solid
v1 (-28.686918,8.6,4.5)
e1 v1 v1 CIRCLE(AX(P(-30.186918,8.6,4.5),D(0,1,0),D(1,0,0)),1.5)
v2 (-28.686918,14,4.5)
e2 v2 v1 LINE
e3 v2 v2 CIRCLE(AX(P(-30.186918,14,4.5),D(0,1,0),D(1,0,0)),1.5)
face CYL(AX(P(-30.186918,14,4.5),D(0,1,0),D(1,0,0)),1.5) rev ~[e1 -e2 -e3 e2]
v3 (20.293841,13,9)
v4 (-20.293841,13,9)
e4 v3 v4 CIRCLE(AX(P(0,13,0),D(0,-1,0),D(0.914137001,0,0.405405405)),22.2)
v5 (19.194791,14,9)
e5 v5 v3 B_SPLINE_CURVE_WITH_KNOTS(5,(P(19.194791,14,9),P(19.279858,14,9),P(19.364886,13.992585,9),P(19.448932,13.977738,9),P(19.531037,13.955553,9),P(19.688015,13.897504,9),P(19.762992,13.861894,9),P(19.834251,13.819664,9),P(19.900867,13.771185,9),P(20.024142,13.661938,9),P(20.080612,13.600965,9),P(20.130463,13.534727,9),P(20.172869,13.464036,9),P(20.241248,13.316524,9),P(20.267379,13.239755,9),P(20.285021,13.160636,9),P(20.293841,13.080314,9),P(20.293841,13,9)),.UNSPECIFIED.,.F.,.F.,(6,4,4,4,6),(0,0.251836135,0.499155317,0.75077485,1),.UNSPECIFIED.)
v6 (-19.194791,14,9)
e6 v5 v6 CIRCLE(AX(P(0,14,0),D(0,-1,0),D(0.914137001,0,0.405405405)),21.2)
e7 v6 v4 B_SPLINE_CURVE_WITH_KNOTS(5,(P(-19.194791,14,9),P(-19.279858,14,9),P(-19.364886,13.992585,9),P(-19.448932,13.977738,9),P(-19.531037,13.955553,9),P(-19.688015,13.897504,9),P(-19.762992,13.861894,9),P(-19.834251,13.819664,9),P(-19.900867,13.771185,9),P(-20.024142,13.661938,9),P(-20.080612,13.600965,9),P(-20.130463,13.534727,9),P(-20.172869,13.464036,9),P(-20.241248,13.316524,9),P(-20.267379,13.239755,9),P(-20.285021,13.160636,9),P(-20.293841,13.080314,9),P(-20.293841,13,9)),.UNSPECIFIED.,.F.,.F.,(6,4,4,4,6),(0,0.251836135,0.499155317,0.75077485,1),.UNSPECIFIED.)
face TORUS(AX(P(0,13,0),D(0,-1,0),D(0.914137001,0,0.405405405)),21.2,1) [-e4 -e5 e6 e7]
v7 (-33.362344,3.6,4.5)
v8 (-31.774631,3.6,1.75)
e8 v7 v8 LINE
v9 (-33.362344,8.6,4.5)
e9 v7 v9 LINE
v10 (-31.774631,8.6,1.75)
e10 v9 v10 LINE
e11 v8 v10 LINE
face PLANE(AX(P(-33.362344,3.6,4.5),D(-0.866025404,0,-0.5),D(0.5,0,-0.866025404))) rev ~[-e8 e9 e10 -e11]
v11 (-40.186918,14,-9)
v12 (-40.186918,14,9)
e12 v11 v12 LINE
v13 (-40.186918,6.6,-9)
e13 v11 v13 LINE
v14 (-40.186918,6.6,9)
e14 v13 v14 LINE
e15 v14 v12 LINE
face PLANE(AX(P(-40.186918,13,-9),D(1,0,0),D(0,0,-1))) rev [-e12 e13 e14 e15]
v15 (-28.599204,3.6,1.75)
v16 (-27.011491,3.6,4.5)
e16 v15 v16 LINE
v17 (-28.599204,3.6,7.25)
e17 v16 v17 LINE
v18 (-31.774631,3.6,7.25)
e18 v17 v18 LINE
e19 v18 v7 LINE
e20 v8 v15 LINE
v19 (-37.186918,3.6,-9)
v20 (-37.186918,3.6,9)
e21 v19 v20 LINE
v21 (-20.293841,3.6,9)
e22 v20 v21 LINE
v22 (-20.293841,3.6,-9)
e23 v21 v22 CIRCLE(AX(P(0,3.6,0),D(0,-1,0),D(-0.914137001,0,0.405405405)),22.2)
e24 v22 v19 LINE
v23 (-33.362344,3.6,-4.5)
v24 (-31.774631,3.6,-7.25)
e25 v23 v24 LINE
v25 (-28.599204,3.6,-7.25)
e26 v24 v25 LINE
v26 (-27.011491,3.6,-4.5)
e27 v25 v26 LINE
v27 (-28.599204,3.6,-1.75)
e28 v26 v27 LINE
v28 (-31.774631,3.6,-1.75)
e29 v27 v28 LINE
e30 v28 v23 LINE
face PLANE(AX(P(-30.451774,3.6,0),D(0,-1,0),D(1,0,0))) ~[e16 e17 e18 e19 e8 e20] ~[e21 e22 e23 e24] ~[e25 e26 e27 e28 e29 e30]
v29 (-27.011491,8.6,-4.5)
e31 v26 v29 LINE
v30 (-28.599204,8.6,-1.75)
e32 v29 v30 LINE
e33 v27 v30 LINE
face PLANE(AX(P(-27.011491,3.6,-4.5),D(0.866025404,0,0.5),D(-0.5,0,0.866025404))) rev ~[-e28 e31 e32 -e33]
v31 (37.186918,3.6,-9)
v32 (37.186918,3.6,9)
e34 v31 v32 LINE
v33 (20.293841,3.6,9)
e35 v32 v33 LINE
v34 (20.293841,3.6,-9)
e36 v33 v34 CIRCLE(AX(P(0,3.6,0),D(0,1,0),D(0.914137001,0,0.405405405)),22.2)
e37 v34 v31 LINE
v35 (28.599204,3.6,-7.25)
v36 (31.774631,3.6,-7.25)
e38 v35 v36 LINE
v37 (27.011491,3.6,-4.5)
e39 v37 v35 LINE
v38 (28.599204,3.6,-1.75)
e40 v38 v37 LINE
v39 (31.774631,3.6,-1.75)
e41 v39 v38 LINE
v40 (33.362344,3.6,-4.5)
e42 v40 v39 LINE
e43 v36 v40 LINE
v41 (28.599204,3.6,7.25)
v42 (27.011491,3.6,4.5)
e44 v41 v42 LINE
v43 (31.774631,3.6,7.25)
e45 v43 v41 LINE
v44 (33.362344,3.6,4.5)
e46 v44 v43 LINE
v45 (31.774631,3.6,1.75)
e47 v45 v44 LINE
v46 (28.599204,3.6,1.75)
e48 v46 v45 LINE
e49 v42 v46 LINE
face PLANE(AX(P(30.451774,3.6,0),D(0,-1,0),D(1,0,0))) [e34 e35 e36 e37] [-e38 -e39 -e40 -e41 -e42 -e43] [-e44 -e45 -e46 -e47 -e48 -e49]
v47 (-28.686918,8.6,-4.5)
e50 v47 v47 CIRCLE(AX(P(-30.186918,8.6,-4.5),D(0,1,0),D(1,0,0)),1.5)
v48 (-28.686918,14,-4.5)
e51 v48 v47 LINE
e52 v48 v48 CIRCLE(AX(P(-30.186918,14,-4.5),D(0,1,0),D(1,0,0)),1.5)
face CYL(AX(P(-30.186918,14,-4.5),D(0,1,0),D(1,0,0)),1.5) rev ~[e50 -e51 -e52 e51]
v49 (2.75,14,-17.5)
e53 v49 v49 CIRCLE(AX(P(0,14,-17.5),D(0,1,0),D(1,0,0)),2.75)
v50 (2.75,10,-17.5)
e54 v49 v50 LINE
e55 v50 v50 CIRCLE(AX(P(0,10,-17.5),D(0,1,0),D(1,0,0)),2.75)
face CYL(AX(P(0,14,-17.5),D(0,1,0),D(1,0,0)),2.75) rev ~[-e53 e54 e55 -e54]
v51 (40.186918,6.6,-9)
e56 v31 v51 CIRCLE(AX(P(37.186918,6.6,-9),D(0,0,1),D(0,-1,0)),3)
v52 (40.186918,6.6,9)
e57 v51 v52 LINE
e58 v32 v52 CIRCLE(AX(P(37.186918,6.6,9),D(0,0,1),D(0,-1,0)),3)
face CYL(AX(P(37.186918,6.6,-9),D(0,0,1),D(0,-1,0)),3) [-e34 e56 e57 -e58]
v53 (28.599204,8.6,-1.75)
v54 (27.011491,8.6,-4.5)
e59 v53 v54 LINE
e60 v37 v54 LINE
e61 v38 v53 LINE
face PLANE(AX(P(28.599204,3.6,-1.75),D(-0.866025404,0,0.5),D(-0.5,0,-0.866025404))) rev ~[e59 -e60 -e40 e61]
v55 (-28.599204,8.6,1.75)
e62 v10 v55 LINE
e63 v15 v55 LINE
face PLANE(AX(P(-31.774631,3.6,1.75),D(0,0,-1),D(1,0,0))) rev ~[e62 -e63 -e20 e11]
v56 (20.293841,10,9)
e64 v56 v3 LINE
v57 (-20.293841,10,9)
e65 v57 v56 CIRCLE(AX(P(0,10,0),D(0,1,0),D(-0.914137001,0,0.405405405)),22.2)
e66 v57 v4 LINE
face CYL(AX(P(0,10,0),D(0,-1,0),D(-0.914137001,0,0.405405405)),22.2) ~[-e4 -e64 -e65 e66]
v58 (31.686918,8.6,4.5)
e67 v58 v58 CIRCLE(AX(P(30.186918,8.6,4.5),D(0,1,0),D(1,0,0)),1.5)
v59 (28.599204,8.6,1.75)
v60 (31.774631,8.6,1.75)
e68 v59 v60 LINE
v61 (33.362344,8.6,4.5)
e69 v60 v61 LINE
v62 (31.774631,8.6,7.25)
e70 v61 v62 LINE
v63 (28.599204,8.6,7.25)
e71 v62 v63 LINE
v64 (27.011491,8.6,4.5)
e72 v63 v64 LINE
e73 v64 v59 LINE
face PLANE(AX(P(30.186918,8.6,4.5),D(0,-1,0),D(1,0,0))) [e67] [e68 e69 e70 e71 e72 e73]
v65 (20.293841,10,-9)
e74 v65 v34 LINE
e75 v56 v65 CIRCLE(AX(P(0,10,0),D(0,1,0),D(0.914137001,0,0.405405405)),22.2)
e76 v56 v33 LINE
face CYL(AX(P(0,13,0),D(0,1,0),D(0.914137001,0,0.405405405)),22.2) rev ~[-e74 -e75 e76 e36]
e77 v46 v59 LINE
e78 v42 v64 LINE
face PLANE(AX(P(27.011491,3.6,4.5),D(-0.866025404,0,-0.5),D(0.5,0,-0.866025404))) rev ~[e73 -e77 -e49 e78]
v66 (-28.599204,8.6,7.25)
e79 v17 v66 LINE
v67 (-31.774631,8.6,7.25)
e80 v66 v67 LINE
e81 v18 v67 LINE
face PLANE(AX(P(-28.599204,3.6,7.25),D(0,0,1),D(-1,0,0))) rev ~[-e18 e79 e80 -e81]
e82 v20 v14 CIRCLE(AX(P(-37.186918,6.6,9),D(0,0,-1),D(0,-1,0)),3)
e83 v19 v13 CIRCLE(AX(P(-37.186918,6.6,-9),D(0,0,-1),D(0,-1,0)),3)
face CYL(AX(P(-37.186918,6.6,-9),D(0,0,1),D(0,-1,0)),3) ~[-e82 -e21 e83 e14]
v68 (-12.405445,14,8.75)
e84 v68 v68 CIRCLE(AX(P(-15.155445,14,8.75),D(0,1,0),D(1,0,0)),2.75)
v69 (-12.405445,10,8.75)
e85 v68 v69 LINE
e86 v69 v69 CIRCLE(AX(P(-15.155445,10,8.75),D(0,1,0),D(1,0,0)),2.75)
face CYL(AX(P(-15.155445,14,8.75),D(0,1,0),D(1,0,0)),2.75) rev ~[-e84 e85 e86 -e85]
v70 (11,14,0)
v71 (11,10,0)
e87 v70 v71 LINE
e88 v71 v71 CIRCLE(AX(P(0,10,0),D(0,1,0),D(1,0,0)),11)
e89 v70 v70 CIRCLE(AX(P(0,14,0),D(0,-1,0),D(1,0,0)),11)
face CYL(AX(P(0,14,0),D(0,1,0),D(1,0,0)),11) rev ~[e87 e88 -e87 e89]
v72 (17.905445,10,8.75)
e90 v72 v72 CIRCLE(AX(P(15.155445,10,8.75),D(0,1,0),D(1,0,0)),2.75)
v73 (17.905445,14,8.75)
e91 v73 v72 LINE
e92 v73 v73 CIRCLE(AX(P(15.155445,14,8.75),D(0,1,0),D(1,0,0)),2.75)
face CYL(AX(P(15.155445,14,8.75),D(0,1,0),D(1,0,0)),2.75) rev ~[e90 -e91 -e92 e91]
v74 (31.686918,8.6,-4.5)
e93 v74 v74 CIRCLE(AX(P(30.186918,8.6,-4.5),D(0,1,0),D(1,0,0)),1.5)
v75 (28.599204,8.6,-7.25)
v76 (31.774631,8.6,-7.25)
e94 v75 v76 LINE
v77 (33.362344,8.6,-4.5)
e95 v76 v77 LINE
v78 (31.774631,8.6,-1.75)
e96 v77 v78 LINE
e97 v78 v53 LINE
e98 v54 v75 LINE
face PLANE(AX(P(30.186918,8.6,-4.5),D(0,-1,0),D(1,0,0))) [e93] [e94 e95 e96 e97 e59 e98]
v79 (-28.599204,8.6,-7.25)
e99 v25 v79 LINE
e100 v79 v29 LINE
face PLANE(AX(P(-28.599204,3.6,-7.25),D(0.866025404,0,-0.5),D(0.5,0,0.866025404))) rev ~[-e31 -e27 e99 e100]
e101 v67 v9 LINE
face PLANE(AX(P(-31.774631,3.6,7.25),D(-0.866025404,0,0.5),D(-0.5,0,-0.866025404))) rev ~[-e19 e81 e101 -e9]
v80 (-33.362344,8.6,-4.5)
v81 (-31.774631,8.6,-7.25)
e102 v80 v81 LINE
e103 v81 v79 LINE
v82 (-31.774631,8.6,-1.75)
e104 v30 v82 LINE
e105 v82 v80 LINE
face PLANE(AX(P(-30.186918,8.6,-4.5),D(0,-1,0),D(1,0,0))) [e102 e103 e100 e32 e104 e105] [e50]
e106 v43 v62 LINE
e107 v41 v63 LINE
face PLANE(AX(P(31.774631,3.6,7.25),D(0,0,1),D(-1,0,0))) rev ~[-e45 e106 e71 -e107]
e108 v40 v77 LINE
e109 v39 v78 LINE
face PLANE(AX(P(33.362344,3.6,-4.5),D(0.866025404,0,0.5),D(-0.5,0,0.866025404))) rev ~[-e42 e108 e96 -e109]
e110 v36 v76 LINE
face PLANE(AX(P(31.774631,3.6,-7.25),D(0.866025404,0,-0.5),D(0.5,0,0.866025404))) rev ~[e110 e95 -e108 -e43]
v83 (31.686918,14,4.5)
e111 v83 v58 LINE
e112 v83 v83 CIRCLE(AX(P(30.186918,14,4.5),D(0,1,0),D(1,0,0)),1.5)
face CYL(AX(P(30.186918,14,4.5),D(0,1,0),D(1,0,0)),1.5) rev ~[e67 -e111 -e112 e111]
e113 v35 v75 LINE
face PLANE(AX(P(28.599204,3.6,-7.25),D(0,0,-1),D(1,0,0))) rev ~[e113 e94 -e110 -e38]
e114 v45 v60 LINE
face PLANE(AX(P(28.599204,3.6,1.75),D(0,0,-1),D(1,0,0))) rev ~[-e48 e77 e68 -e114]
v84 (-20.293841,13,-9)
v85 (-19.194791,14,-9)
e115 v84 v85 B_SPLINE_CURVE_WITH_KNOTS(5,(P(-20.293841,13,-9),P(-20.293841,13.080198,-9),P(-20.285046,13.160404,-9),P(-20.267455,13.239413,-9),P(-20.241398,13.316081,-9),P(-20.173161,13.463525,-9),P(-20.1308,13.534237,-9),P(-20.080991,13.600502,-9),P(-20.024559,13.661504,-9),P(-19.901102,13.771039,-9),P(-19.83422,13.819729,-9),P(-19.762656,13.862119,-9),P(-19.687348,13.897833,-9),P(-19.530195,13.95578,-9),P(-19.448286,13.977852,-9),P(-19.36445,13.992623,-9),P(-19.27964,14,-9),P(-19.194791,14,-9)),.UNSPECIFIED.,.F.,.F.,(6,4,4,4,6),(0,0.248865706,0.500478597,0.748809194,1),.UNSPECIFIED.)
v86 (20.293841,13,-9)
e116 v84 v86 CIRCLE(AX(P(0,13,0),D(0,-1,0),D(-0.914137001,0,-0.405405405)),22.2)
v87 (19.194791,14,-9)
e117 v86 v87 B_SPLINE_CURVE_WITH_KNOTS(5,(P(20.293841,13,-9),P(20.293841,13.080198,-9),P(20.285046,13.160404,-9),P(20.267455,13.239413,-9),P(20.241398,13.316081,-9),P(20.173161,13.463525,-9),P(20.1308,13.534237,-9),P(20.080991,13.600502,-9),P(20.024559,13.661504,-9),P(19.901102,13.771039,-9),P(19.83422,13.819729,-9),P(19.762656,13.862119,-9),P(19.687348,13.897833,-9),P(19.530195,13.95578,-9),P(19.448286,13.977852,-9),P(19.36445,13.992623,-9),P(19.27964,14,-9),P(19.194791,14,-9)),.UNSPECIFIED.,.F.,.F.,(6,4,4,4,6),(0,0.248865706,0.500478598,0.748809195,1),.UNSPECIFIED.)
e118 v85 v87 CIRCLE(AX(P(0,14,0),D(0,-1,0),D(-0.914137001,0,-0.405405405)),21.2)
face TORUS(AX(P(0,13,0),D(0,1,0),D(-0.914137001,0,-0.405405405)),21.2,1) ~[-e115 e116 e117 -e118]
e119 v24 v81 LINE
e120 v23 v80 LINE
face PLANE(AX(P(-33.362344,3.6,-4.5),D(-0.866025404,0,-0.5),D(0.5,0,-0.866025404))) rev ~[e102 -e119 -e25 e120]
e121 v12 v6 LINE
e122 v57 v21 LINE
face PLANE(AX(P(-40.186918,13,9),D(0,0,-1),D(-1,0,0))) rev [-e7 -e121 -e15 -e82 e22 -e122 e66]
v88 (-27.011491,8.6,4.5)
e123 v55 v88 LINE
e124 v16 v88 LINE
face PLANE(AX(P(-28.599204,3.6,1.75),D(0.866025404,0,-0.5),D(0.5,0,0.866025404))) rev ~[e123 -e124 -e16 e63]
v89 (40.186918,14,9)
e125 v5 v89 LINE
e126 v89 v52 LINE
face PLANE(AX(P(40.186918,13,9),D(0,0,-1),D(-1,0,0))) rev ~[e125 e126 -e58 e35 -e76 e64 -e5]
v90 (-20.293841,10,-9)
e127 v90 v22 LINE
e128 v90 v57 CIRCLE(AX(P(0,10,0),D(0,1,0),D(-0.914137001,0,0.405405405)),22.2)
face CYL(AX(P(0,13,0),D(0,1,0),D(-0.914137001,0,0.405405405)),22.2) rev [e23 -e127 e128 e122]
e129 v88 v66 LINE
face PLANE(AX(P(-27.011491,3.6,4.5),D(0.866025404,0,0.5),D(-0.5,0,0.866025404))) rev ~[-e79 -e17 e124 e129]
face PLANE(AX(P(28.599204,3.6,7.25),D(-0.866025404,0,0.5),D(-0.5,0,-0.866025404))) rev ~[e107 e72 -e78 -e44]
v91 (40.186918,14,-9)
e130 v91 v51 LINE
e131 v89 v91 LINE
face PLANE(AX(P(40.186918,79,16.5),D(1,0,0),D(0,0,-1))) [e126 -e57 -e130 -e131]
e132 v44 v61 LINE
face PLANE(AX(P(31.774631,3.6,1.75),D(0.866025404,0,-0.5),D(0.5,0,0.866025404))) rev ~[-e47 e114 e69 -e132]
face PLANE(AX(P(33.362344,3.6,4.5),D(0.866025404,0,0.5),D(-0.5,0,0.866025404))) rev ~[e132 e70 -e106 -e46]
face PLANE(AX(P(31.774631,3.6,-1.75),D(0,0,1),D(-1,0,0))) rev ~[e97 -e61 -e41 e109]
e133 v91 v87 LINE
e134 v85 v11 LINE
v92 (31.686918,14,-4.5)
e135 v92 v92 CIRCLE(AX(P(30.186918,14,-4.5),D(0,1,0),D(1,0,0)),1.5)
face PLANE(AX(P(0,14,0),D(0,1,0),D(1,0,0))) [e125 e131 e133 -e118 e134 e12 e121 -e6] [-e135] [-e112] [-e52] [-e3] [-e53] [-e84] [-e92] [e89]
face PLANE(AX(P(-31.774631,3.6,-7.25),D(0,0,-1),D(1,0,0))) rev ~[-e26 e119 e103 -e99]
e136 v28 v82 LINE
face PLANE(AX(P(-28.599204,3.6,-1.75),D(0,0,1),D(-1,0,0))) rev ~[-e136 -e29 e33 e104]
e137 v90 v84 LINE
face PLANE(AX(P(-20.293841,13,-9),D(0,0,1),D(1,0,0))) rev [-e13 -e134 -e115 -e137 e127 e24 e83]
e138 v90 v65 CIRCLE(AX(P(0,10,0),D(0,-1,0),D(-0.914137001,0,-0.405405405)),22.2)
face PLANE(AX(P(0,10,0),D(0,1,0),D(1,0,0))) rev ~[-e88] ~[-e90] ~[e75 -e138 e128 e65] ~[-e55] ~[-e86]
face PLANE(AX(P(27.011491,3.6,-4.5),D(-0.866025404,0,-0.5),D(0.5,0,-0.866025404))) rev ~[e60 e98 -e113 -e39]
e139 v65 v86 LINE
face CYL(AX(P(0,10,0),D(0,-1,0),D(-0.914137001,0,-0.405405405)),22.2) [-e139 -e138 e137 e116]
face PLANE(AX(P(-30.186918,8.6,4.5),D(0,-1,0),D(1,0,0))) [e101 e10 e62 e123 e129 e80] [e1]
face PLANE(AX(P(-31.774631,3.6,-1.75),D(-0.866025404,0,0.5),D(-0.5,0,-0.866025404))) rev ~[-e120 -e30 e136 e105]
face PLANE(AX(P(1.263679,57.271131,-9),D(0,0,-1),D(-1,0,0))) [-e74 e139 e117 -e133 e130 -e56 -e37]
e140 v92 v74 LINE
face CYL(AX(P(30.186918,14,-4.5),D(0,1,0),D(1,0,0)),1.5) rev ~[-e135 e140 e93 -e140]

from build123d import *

# Parameters (mm, degrees)
SKETCH1_R                = 17.45
SKETCH1_R_2              = 12.45
BOSS_EXTRUDE1_DEPTH      = 8
SKETCH2_R                = 20
SKETCH2_R_2              = 12.45
BOSS_EXTRUDE2_DEPTH      = 2
SKETCH3_R                = 32.5
SKETCH3_R_2              = 12.45
BOSS_EXTRUDE3_DEPTH      = 4
FILLET1_R                = 1
BOSS_EXTRUDE6_START      = -4
SKETCH10_W               = 10
SKETCH10_H               = 18
BOSS_EXTRUDE6_DEPTH      = 4
SKETCH4_W                = 6
SKETCH4_H                = 18
BOSS_EXTRUDE4_DEPTH      = 75
BOSS_EXTRUDE4_DEPTH_BACK = 4
SKETCH5_R                = 5.05
CUT_EXTRUDE1_DEPTH       = 306
CUT_EXTRUDE1_DEPTH_BACK  = 113
SKETCH6_W                = 6
SKETCH6_H                = 10
BOSS_EXTRUDE5_DEPTH      = 15
BOSS_EXTRUDE5_DEPTH_BACK = 32.85
SKETCH7_R                = 1.629220746
SKETCH7_R_2              = 1.580258945
CUT_EXTRUDE2_DEPTH       = 10
SKETCH9_R                = 5.05
CUT_EXTRUDE3_DEPTH       = 10
CUT_EXTRUDE3_DEPTH_BACK  = 10
SKETCH11_W               = 9.782596874
SKETCH11_H               = 3.234517514
CUT_EXTRUDE4_DEPTH       = 123
CUT_EXTRUDE4_DEPTH_BACK  = 61
FILLET4_R                = 3
FILLET5_R                = 3
SKETCH12_W               = 108.791398151
SKETCH12_H               = 24.041848298
CUT_EXTRUDE5_DEPTH       = 110.678
SKETCH15_R               = 22
CUT_EXTRUDE7_DEPTH       = 4
SKETCH13_R               = 22
SKETCH13_R_2             = 11
SKETCH13_R_3             = 2.75
BOSS_EXTRUDE7_DEPTH      = 4
FILLET6_R                = 3
CUT_EXTRUDE8_DEPTH       = 5
FILLET7_R                = 1
BOSS_EXTRUDE8_START      = -3
BOSS_EXTRUDE8_DEPTH      = 9.4
FILLET8_R                = 3
FILLET8_OF_MIRROR2_R     = 3
CUT_EXTRUDE12_START      = -6
SKETCH21_R               = 6.05
CUT_EXTRUDE12_DEPTH      = 3.8
SKETCH18_W               = 88.746975794
SKETCH18_H               = 20.386854219
CUT_EXTRUDE9_DEPTH       = 10
SKETCH19_W               = 6
SKETCH19_H               = 10.45
BOSS_EXTRUDE9_DEPTH      = 5
FILLET9_R                = 2
CUT_EXTRUDE13_DEPTH      = 2
SKETCH23_R               = 1
CUT_EXTRUDE14_DEPTH      = 11
CUT_EXTRUDE16_DEPTH      = 1.7
SKETCH26_W               = 136.459260558
SKETCH26_H               = 86.542262852
CUT_EXTRUDE17_DEPTH      = 100
CUT_EXTRUDE17_DEPTH_BACK = 100
SKETCH27_R               = 1.5
CUT_EXTRUDE18_DEPTH      = 100
CUT_EXTRUDE19_DEPTH      = 5


with BuildPart() as part:
    # Sketch1 → Boss-Extrude1 (new body)
    with BuildSketch(Plane(origin=(0, 0, 0), x_dir=(1, 0, 0), z_dir=(0, 1, 0))):
        Circle(SKETCH1_R)
        Circle(SKETCH1_R_2, mode=Mode.SUBTRACT)
    extrude(amount=BOSS_EXTRUDE1_DEPTH)

    # Sketch2 → Boss-Extrude2 (add)
    with BuildSketch(Plane(origin=(0, 8, 0), x_dir=(1, 0, 0), z_dir=(0, 1, 0))):
        Circle(SKETCH2_R)
        Circle(SKETCH2_R_2, mode=Mode.SUBTRACT)
    extrude(amount=BOSS_EXTRUDE2_DEPTH)

    # Sketch3 → Boss-Extrude3 (add)
    with BuildSketch(Plane(origin=(0, 10, 0), x_dir=(1, 0, 0), z_dir=(0, 1, 0))):
        Circle(SKETCH3_R)
        Circle(SKETCH3_R_2, mode=Mode.SUBTRACT)
    extrude(amount=BOSS_EXTRUDE3_DEPTH)

    # Fillet1
    fillet1_edges = [part.edges().sort_by_distance(p)[0] for p in [
        (-32.5, 14, 0),
    ]]
    fillet(fillet1_edges, radius=FILLET1_R)

    # Sketch10 → Boss-Extrude6 (add)
    with BuildSketch(Plane(origin=(0, 14, 0), x_dir=(1, 0, 0), z_dir=(0, 1, 0)).offset(BOSS_EXTRUDE6_START)):
        with Locations((35.186917696, 0)):
            Rectangle(SKETCH10_W, SKETCH10_H)
        with Locations((-35.186917696, 0)):
            Rectangle(SKETCH10_W, SKETCH10_H)
    extrude(amount=BOSS_EXTRUDE6_DEPTH)

    # Sketch4 → Boss-Extrude4 (add, two sides)
    with BuildSketch(Plane(origin=(0, 14, 0), x_dir=(1, 0, 0), z_dir=(0, 1, 0))) as boss_extrude4_sk:
        with Locations((-37.186917696, 0)):
            Rectangle(SKETCH4_W, SKETCH4_H)
        with Locations((37.186917696, 0)):
            Rectangle(SKETCH4_W, SKETCH4_H)
    extrude(amount=BOSS_EXTRUDE4_DEPTH)
    extrude(boss_extrude4_sk.sketch, amount=-BOSS_EXTRUDE4_DEPTH_BACK)

    # Sketch5 → Cut-Extrude1 (cut, two sides)
    with BuildSketch(Plane.ZY.offset(-34.186917696)) as cut_extrude1_sk:
        with Locations((0, 79)):
            Circle(SKETCH5_R)
    extrude(amount=CUT_EXTRUDE1_DEPTH, mode=Mode.SUBTRACT)
    extrude(cut_extrude1_sk.sketch, amount=-CUT_EXTRUDE1_DEPTH_BACK, mode=Mode.SUBTRACT)

    # Sketch6 → Boss-Extrude5 (add, two sides)
    with BuildSketch(Plane(origin=(0, 0, -9), x_dir=(-1, 0, 0), z_dir=(0, 0, -1))) as boss_extrude5_sk:
        with Locations((37.186917696, 70.95)):
            Rectangle(SKETCH6_W, SKETCH6_H)
    extrude(amount=BOSS_EXTRUDE5_DEPTH)
    extrude(boss_extrude5_sk.sketch, amount=-BOSS_EXTRUDE5_DEPTH_BACK)

    # Sketch7 → Cut-Extrude2 (cut)
    with BuildSketch(Plane(origin=(-34.186917696, 0, 0), x_dir=(0, 0, -1), z_dir=(1, 0, 0))):
        with Locations((-17.5, 71)):
            Circle(SKETCH7_R)
        with Locations((17.5, 71)):
            Circle(SKETCH7_R_2)
    extrude(amount=-CUT_EXTRUDE2_DEPTH, mode=Mode.SUBTRACT)

    # Sketch9 → Cut-Extrude3 (cut, two sides)
    with BuildSketch(Plane(origin=(-34.186917696, 0, 0), x_dir=(0, 0, -1), z_dir=(1, 0, 0))) as cut_extrude3_sk:
        with Locations((0, 79)):
            Circle(SKETCH9_R)
    extrude(amount=CUT_EXTRUDE3_DEPTH, mode=Mode.SUBTRACT)
    extrude(cut_extrude3_sk.sketch, amount=-CUT_EXTRUDE3_DEPTH_BACK, mode=Mode.SUBTRACT)

    # Sketch11 → Cut-Extrude4 (cut, two sides)
    with BuildSketch(Plane.ZY.offset(-34.186917696)) as cut_extrude4_sk:
        with Locations((0, 15.617258757)):
            Rectangle(SKETCH11_W, SKETCH11_H)
    extrude(amount=CUT_EXTRUDE4_DEPTH, mode=Mode.SUBTRACT)
    extrude(cut_extrude4_sk.sketch, amount=-CUT_EXTRUDE4_DEPTH_BACK, mode=Mode.SUBTRACT)

    # Fillet4
    fillet4_edges = [part.edges().sort_by_distance(p)[0] for p in [
        (-37.186917696, 65.95, 23.85),
        (-37.186917696, 75.95, 23.85),
        (-37.186917696, 65.95, -24),
        (-37.186917696, 75.95, -24),
        (-37.186917696, 89, -9),
        (-37.186917696, 89, 9),
    ]]
    fillet(fillet4_edges, radius=FILLET4_R)

    # Fillet5
    fillet5_edges = [part.edges().sort_by_distance(p)[0] for p in [
        (40.186917696, 10, 0),
        (-40.186917696, 10, 0),
    ]]
    fillet(fillet5_edges, radius=FILLET5_R)

    # Sketch12 → Cut-Extrude5 (cut)
    with BuildSketch(Plane(origin=(40.186917696, 0, 0), x_dir=(0, 0, -1), z_dir=(1, 0, 0))):
        with Locations((-12.502918017, -2.020924149)):
            Rectangle(SKETCH12_W, SKETCH12_H)
    extrude(amount=-CUT_EXTRUDE5_DEPTH, mode=Mode.SUBTRACT)

    # Sketch15 → Cut-Extrude7 (cut)
    with BuildSketch(Plane(origin=(0, 14, 0), x_dir=(1, 0, 0), z_dir=(0, 1, 0))):
        Circle(SKETCH15_R)
    extrude(amount=-CUT_EXTRUDE7_DEPTH, mode=Mode.SUBTRACT)

    # Sketch13 → Boss-Extrude7 (add)
    with BuildSketch(Plane(origin=(0, 14, 0), x_dir=(1, 0, 0), z_dir=(0, 1, 0))):
        Circle(SKETCH13_R)
        Circle(SKETCH13_R_2, mode=Mode.SUBTRACT)
        with Locations((0, 17.5)):
            Circle(SKETCH13_R_3, mode=Mode.SUBTRACT)
        with Locations((-15.155444566, -8.75)):
            Circle(SKETCH13_R_3, mode=Mode.SUBTRACT)
        with Locations((15.155444566, -8.75)):
            Circle(SKETCH13_R_3, mode=Mode.SUBTRACT)
    extrude(amount=-BOSS_EXTRUDE7_DEPTH)

    # Fillet6
    fillet6_edges = [part.edges().sort_by_distance(p)[0] for p in [
        (37.186917696, 89, 9),
        (37.186917696, 89, -9),
    ]]
    fillet(fillet6_edges, radius=FILLET6_R)

    # Sketch16 → Cut-Extrude8 (cut)
    with BuildSketch(Plane.XZ.offset(-10)):
        with BuildLine():
            Line((-31.228992939, 9), (-20.29384143, 9))
            ThreePointArc((-20.29384143, 9), (0, 22.2), (20.29384143, 9))
            Line((20.29384143, 9), (31.228992939, 9))
            ThreePointArc((31.228992939, 9), (0, 32.5), (-31.228992939, 9))
        make_face()
    cut_extrude8 = extrude(amount=-CUT_EXTRUDE8_DEPTH, mode=Mode.SUBTRACT)

    # Mirror1: Cut-Extrude8 across plane
    add(cut_extrude8.mirror(Plane.XY), mode=Mode.SUBTRACT)

    # Fillet7
    fillet7_edges = [part.edges().sort_by_distance(p)[0] for p in [
        (0, 14, 22.2),
        (0, 14, -22.2),
    ]]
    fillet(fillet7_edges, radius=FILLET7_R)

    # Sketch17 → Boss-Extrude8 (add)
    with BuildSketch(Plane.XZ.offset(-10).offset(BOSS_EXTRUDE8_START)):
        with BuildLine():
            Line((20.29384143, -9), (40.186917696, -9))
            Line((40.186917696, -9), (40.186917696, 9))
            Line((40.186917696, 9), (20.29384143, 9))
            ThreePointArc((20.29384143, 9), (22.2, 0), (20.29384143, -9))
        make_face()
    boss_extrude8 = extrude(amount=BOSS_EXTRUDE8_DEPTH)

    # Fillet8
    fillet8_edges = [part.edges().sort_by_distance(p)[0] for p in [
        (40.186917696, 3.6, 0),
    ]]
    fillet(fillet8_edges, radius=FILLET8_R)

    # Mirror2: Boss-Extrude8 across plane
    add(boss_extrude8.mirror(Plane(origin=(0, 0, 0), x_dir=(0, 0, 1), z_dir=(1, 0, 0))))

    # Fillet8 of Mirror2
    fillet8_of_mirror2_edges = [part.edges().sort_by_distance(p)[0] for p in [
        (-40.186917696, 3.6, 0),
    ]]
    fillet(fillet8_of_mirror2_edges, radius=FILLET8_OF_MIRROR2_R)

    # Sketch21 → Cut-Extrude12 (cut)
    with BuildSketch(Plane(origin=(40.186917696, 0, 0), x_dir=(0, 0, -1), z_dir=(1, 0, 0)).offset(CUT_EXTRUDE12_START)):
        with Locations((0, 79)):
            Circle(SKETCH21_R)
    extrude(amount=CUT_EXTRUDE12_DEPTH, mode=Mode.SUBTRACT)

    # Sketch18 → Cut-Extrude9 (cut)
    with BuildSketch(Plane(origin=(40.186917696, 0, 0), x_dir=(0, 0, -1), z_dir=(1, 0, 0))):
        with Locations((0, 89.193427109)):
            Rectangle(SKETCH18_W, SKETCH18_H)
    extrude(amount=-CUT_EXTRUDE9_DEPTH, mode=Mode.SUBTRACT)

    # Sketch19 → Boss-Extrude9 (add)
    with BuildSketch(Plane(origin=(0, 79, 0), x_dir=(1, 0, 0), z_dir=(0, 1, 0))):
        with Locations((37.186917696, -11.275)):
            Rectangle(SKETCH19_W, SKETCH19_H)
        with Locations((37.186917696, 11.275)):
            Rectangle(SKETCH19_W, SKETCH19_H)
    extrude(amount=-BOSS_EXTRUDE9_DEPTH)

    # Fillet9
    fillet9_edges = [part.edges().sort_by_distance(p)[0] for p in [
        (37.186917696, 74, 16.5),
        (37.186917696, 74, -16.5),
    ]]
    fillet(fillet9_edges, radius=FILLET9_R)

    # Sketch22 → Cut-Extrude13 (cut)
    with BuildSketch(Plane(origin=(-34.186917696, 0, 0), x_dir=(0, 0, -1), z_dir=(1, 0, 0))):
        Polygon((-15.9988893, 68.4), (-14.4977786, 71), (-15.9988893, 73.6), (-19.0011107, 73.6), (-20.5022214, 71), (-19.0011107, 68.4), align=None)
        Polygon((20.5022214, 71), (19.0011107, 73.6), (15.9988893, 73.6), (14.4977786, 71), (15.9988893, 68.4), (19.0011107, 68.4), align=None)
    extrude(amount=-CUT_EXTRUDE13_DEPTH, mode=Mode.SUBTRACT)

    # Sketch23 → Cut-Extrude14 (cut)
    with BuildSketch(Plane(origin=(0, 79, 0), x_dir=(1, 0, 0), z_dir=(0, 1, 0))):
        with Locations((37.186917696, -12.3)):
            Circle(SKETCH23_R)
        with Locations((37.186917696, 12.3)):
            Circle(SKETCH23_R)
    extrude(amount=-CUT_EXTRUDE14_DEPTH, mode=Mode.SUBTRACT)

    # Sketch24 → Cut-Extrude16 (cut)
    with BuildSketch(Plane.XZ.offset(-74)):
        Polygon((37.186917696, 9.990598923), (39.186917696, 11.145299462), (39.186917696, 13.454700538), (37.186917696, 14.609401077), (35.186917696, 13.454700538), (35.186917696, 11.145299462), align=None)
        Polygon((37.186917696, -14.609401077), (39.186917696, -13.454700538), (39.186917696, -11.145299462), (37.186917696, -9.990598923), (35.186917696, -11.145299462), (35.186917696, -13.454700538), align=None)
    extrude(amount=-CUT_EXTRUDE16_DEPTH, mode=Mode.SUBTRACT)

    # Sketch26 → Cut-Extrude17 (cut, two sides)
    with BuildSketch(Plane(origin=(0, 0, -9), x_dir=(-1, 0, 0), z_dir=(0, 0, -1))) as cut_extrude17_sk:
        with Locations((-1.263679096, 57.271131426)):
            Rectangle(SKETCH26_W, SKETCH26_H)
    extrude(amount=CUT_EXTRUDE17_DEPTH, mode=Mode.SUBTRACT)
    extrude(cut_extrude17_sk.sketch, amount=-CUT_EXTRUDE17_DEPTH_BACK, mode=Mode.SUBTRACT)

    # Sketch27 → Cut-Extrude18 (cut)
    with BuildSketch(Plane(origin=(0, 14, 0), x_dir=(1, 0, 0), z_dir=(0, 1, 0))):
        with Locations((30.186917696, -4.5)):
            Circle(SKETCH27_R)
        with Locations((30.186917696, 4.5)):
            Circle(SKETCH27_R)
        with Locations((-30.186917696, -4.5)):
            Circle(SKETCH27_R)
        with Locations((-30.186917696, 4.5)):
            Circle(SKETCH27_R)
    extrude(amount=-CUT_EXTRUDE18_DEPTH, mode=Mode.SUBTRACT)

    # Sketch28 → Cut-Extrude19 (cut)
    with BuildSketch(Plane.XZ.offset(-3.6)):
        Polygon((27.011491216, -4.5), (28.599204456, -7.25), (31.774630937, -7.25), (33.362344177, -4.5), (31.774630937, -1.75), (28.599204456, -1.75), align=None)
        Polygon((27.011491216, 4.5), (28.599204456, 1.75), (31.774630937, 1.75), (33.362344177, 4.5), (31.774630937, 7.25), (28.599204456, 7.25), align=None)
        Polygon((-33.362344177, 4.5), (-31.774630937, 1.75), (-28.599204456, 1.75), (-27.011491216, 4.5), (-28.599204456, 7.25), (-31.774630937, 7.25), align=None)
        Polygon((-33.362344177, -4.5), (-31.774630937, -7.25), (-28.599204456, -7.25), (-27.011491216, -4.5), (-28.599204456, -1.75), (-31.774630937, -1.75), align=None)
    extrude(amount=-CUT_EXTRUDE19_DEPTH, mode=Mode.SUBTRACT)


solid = part.part
